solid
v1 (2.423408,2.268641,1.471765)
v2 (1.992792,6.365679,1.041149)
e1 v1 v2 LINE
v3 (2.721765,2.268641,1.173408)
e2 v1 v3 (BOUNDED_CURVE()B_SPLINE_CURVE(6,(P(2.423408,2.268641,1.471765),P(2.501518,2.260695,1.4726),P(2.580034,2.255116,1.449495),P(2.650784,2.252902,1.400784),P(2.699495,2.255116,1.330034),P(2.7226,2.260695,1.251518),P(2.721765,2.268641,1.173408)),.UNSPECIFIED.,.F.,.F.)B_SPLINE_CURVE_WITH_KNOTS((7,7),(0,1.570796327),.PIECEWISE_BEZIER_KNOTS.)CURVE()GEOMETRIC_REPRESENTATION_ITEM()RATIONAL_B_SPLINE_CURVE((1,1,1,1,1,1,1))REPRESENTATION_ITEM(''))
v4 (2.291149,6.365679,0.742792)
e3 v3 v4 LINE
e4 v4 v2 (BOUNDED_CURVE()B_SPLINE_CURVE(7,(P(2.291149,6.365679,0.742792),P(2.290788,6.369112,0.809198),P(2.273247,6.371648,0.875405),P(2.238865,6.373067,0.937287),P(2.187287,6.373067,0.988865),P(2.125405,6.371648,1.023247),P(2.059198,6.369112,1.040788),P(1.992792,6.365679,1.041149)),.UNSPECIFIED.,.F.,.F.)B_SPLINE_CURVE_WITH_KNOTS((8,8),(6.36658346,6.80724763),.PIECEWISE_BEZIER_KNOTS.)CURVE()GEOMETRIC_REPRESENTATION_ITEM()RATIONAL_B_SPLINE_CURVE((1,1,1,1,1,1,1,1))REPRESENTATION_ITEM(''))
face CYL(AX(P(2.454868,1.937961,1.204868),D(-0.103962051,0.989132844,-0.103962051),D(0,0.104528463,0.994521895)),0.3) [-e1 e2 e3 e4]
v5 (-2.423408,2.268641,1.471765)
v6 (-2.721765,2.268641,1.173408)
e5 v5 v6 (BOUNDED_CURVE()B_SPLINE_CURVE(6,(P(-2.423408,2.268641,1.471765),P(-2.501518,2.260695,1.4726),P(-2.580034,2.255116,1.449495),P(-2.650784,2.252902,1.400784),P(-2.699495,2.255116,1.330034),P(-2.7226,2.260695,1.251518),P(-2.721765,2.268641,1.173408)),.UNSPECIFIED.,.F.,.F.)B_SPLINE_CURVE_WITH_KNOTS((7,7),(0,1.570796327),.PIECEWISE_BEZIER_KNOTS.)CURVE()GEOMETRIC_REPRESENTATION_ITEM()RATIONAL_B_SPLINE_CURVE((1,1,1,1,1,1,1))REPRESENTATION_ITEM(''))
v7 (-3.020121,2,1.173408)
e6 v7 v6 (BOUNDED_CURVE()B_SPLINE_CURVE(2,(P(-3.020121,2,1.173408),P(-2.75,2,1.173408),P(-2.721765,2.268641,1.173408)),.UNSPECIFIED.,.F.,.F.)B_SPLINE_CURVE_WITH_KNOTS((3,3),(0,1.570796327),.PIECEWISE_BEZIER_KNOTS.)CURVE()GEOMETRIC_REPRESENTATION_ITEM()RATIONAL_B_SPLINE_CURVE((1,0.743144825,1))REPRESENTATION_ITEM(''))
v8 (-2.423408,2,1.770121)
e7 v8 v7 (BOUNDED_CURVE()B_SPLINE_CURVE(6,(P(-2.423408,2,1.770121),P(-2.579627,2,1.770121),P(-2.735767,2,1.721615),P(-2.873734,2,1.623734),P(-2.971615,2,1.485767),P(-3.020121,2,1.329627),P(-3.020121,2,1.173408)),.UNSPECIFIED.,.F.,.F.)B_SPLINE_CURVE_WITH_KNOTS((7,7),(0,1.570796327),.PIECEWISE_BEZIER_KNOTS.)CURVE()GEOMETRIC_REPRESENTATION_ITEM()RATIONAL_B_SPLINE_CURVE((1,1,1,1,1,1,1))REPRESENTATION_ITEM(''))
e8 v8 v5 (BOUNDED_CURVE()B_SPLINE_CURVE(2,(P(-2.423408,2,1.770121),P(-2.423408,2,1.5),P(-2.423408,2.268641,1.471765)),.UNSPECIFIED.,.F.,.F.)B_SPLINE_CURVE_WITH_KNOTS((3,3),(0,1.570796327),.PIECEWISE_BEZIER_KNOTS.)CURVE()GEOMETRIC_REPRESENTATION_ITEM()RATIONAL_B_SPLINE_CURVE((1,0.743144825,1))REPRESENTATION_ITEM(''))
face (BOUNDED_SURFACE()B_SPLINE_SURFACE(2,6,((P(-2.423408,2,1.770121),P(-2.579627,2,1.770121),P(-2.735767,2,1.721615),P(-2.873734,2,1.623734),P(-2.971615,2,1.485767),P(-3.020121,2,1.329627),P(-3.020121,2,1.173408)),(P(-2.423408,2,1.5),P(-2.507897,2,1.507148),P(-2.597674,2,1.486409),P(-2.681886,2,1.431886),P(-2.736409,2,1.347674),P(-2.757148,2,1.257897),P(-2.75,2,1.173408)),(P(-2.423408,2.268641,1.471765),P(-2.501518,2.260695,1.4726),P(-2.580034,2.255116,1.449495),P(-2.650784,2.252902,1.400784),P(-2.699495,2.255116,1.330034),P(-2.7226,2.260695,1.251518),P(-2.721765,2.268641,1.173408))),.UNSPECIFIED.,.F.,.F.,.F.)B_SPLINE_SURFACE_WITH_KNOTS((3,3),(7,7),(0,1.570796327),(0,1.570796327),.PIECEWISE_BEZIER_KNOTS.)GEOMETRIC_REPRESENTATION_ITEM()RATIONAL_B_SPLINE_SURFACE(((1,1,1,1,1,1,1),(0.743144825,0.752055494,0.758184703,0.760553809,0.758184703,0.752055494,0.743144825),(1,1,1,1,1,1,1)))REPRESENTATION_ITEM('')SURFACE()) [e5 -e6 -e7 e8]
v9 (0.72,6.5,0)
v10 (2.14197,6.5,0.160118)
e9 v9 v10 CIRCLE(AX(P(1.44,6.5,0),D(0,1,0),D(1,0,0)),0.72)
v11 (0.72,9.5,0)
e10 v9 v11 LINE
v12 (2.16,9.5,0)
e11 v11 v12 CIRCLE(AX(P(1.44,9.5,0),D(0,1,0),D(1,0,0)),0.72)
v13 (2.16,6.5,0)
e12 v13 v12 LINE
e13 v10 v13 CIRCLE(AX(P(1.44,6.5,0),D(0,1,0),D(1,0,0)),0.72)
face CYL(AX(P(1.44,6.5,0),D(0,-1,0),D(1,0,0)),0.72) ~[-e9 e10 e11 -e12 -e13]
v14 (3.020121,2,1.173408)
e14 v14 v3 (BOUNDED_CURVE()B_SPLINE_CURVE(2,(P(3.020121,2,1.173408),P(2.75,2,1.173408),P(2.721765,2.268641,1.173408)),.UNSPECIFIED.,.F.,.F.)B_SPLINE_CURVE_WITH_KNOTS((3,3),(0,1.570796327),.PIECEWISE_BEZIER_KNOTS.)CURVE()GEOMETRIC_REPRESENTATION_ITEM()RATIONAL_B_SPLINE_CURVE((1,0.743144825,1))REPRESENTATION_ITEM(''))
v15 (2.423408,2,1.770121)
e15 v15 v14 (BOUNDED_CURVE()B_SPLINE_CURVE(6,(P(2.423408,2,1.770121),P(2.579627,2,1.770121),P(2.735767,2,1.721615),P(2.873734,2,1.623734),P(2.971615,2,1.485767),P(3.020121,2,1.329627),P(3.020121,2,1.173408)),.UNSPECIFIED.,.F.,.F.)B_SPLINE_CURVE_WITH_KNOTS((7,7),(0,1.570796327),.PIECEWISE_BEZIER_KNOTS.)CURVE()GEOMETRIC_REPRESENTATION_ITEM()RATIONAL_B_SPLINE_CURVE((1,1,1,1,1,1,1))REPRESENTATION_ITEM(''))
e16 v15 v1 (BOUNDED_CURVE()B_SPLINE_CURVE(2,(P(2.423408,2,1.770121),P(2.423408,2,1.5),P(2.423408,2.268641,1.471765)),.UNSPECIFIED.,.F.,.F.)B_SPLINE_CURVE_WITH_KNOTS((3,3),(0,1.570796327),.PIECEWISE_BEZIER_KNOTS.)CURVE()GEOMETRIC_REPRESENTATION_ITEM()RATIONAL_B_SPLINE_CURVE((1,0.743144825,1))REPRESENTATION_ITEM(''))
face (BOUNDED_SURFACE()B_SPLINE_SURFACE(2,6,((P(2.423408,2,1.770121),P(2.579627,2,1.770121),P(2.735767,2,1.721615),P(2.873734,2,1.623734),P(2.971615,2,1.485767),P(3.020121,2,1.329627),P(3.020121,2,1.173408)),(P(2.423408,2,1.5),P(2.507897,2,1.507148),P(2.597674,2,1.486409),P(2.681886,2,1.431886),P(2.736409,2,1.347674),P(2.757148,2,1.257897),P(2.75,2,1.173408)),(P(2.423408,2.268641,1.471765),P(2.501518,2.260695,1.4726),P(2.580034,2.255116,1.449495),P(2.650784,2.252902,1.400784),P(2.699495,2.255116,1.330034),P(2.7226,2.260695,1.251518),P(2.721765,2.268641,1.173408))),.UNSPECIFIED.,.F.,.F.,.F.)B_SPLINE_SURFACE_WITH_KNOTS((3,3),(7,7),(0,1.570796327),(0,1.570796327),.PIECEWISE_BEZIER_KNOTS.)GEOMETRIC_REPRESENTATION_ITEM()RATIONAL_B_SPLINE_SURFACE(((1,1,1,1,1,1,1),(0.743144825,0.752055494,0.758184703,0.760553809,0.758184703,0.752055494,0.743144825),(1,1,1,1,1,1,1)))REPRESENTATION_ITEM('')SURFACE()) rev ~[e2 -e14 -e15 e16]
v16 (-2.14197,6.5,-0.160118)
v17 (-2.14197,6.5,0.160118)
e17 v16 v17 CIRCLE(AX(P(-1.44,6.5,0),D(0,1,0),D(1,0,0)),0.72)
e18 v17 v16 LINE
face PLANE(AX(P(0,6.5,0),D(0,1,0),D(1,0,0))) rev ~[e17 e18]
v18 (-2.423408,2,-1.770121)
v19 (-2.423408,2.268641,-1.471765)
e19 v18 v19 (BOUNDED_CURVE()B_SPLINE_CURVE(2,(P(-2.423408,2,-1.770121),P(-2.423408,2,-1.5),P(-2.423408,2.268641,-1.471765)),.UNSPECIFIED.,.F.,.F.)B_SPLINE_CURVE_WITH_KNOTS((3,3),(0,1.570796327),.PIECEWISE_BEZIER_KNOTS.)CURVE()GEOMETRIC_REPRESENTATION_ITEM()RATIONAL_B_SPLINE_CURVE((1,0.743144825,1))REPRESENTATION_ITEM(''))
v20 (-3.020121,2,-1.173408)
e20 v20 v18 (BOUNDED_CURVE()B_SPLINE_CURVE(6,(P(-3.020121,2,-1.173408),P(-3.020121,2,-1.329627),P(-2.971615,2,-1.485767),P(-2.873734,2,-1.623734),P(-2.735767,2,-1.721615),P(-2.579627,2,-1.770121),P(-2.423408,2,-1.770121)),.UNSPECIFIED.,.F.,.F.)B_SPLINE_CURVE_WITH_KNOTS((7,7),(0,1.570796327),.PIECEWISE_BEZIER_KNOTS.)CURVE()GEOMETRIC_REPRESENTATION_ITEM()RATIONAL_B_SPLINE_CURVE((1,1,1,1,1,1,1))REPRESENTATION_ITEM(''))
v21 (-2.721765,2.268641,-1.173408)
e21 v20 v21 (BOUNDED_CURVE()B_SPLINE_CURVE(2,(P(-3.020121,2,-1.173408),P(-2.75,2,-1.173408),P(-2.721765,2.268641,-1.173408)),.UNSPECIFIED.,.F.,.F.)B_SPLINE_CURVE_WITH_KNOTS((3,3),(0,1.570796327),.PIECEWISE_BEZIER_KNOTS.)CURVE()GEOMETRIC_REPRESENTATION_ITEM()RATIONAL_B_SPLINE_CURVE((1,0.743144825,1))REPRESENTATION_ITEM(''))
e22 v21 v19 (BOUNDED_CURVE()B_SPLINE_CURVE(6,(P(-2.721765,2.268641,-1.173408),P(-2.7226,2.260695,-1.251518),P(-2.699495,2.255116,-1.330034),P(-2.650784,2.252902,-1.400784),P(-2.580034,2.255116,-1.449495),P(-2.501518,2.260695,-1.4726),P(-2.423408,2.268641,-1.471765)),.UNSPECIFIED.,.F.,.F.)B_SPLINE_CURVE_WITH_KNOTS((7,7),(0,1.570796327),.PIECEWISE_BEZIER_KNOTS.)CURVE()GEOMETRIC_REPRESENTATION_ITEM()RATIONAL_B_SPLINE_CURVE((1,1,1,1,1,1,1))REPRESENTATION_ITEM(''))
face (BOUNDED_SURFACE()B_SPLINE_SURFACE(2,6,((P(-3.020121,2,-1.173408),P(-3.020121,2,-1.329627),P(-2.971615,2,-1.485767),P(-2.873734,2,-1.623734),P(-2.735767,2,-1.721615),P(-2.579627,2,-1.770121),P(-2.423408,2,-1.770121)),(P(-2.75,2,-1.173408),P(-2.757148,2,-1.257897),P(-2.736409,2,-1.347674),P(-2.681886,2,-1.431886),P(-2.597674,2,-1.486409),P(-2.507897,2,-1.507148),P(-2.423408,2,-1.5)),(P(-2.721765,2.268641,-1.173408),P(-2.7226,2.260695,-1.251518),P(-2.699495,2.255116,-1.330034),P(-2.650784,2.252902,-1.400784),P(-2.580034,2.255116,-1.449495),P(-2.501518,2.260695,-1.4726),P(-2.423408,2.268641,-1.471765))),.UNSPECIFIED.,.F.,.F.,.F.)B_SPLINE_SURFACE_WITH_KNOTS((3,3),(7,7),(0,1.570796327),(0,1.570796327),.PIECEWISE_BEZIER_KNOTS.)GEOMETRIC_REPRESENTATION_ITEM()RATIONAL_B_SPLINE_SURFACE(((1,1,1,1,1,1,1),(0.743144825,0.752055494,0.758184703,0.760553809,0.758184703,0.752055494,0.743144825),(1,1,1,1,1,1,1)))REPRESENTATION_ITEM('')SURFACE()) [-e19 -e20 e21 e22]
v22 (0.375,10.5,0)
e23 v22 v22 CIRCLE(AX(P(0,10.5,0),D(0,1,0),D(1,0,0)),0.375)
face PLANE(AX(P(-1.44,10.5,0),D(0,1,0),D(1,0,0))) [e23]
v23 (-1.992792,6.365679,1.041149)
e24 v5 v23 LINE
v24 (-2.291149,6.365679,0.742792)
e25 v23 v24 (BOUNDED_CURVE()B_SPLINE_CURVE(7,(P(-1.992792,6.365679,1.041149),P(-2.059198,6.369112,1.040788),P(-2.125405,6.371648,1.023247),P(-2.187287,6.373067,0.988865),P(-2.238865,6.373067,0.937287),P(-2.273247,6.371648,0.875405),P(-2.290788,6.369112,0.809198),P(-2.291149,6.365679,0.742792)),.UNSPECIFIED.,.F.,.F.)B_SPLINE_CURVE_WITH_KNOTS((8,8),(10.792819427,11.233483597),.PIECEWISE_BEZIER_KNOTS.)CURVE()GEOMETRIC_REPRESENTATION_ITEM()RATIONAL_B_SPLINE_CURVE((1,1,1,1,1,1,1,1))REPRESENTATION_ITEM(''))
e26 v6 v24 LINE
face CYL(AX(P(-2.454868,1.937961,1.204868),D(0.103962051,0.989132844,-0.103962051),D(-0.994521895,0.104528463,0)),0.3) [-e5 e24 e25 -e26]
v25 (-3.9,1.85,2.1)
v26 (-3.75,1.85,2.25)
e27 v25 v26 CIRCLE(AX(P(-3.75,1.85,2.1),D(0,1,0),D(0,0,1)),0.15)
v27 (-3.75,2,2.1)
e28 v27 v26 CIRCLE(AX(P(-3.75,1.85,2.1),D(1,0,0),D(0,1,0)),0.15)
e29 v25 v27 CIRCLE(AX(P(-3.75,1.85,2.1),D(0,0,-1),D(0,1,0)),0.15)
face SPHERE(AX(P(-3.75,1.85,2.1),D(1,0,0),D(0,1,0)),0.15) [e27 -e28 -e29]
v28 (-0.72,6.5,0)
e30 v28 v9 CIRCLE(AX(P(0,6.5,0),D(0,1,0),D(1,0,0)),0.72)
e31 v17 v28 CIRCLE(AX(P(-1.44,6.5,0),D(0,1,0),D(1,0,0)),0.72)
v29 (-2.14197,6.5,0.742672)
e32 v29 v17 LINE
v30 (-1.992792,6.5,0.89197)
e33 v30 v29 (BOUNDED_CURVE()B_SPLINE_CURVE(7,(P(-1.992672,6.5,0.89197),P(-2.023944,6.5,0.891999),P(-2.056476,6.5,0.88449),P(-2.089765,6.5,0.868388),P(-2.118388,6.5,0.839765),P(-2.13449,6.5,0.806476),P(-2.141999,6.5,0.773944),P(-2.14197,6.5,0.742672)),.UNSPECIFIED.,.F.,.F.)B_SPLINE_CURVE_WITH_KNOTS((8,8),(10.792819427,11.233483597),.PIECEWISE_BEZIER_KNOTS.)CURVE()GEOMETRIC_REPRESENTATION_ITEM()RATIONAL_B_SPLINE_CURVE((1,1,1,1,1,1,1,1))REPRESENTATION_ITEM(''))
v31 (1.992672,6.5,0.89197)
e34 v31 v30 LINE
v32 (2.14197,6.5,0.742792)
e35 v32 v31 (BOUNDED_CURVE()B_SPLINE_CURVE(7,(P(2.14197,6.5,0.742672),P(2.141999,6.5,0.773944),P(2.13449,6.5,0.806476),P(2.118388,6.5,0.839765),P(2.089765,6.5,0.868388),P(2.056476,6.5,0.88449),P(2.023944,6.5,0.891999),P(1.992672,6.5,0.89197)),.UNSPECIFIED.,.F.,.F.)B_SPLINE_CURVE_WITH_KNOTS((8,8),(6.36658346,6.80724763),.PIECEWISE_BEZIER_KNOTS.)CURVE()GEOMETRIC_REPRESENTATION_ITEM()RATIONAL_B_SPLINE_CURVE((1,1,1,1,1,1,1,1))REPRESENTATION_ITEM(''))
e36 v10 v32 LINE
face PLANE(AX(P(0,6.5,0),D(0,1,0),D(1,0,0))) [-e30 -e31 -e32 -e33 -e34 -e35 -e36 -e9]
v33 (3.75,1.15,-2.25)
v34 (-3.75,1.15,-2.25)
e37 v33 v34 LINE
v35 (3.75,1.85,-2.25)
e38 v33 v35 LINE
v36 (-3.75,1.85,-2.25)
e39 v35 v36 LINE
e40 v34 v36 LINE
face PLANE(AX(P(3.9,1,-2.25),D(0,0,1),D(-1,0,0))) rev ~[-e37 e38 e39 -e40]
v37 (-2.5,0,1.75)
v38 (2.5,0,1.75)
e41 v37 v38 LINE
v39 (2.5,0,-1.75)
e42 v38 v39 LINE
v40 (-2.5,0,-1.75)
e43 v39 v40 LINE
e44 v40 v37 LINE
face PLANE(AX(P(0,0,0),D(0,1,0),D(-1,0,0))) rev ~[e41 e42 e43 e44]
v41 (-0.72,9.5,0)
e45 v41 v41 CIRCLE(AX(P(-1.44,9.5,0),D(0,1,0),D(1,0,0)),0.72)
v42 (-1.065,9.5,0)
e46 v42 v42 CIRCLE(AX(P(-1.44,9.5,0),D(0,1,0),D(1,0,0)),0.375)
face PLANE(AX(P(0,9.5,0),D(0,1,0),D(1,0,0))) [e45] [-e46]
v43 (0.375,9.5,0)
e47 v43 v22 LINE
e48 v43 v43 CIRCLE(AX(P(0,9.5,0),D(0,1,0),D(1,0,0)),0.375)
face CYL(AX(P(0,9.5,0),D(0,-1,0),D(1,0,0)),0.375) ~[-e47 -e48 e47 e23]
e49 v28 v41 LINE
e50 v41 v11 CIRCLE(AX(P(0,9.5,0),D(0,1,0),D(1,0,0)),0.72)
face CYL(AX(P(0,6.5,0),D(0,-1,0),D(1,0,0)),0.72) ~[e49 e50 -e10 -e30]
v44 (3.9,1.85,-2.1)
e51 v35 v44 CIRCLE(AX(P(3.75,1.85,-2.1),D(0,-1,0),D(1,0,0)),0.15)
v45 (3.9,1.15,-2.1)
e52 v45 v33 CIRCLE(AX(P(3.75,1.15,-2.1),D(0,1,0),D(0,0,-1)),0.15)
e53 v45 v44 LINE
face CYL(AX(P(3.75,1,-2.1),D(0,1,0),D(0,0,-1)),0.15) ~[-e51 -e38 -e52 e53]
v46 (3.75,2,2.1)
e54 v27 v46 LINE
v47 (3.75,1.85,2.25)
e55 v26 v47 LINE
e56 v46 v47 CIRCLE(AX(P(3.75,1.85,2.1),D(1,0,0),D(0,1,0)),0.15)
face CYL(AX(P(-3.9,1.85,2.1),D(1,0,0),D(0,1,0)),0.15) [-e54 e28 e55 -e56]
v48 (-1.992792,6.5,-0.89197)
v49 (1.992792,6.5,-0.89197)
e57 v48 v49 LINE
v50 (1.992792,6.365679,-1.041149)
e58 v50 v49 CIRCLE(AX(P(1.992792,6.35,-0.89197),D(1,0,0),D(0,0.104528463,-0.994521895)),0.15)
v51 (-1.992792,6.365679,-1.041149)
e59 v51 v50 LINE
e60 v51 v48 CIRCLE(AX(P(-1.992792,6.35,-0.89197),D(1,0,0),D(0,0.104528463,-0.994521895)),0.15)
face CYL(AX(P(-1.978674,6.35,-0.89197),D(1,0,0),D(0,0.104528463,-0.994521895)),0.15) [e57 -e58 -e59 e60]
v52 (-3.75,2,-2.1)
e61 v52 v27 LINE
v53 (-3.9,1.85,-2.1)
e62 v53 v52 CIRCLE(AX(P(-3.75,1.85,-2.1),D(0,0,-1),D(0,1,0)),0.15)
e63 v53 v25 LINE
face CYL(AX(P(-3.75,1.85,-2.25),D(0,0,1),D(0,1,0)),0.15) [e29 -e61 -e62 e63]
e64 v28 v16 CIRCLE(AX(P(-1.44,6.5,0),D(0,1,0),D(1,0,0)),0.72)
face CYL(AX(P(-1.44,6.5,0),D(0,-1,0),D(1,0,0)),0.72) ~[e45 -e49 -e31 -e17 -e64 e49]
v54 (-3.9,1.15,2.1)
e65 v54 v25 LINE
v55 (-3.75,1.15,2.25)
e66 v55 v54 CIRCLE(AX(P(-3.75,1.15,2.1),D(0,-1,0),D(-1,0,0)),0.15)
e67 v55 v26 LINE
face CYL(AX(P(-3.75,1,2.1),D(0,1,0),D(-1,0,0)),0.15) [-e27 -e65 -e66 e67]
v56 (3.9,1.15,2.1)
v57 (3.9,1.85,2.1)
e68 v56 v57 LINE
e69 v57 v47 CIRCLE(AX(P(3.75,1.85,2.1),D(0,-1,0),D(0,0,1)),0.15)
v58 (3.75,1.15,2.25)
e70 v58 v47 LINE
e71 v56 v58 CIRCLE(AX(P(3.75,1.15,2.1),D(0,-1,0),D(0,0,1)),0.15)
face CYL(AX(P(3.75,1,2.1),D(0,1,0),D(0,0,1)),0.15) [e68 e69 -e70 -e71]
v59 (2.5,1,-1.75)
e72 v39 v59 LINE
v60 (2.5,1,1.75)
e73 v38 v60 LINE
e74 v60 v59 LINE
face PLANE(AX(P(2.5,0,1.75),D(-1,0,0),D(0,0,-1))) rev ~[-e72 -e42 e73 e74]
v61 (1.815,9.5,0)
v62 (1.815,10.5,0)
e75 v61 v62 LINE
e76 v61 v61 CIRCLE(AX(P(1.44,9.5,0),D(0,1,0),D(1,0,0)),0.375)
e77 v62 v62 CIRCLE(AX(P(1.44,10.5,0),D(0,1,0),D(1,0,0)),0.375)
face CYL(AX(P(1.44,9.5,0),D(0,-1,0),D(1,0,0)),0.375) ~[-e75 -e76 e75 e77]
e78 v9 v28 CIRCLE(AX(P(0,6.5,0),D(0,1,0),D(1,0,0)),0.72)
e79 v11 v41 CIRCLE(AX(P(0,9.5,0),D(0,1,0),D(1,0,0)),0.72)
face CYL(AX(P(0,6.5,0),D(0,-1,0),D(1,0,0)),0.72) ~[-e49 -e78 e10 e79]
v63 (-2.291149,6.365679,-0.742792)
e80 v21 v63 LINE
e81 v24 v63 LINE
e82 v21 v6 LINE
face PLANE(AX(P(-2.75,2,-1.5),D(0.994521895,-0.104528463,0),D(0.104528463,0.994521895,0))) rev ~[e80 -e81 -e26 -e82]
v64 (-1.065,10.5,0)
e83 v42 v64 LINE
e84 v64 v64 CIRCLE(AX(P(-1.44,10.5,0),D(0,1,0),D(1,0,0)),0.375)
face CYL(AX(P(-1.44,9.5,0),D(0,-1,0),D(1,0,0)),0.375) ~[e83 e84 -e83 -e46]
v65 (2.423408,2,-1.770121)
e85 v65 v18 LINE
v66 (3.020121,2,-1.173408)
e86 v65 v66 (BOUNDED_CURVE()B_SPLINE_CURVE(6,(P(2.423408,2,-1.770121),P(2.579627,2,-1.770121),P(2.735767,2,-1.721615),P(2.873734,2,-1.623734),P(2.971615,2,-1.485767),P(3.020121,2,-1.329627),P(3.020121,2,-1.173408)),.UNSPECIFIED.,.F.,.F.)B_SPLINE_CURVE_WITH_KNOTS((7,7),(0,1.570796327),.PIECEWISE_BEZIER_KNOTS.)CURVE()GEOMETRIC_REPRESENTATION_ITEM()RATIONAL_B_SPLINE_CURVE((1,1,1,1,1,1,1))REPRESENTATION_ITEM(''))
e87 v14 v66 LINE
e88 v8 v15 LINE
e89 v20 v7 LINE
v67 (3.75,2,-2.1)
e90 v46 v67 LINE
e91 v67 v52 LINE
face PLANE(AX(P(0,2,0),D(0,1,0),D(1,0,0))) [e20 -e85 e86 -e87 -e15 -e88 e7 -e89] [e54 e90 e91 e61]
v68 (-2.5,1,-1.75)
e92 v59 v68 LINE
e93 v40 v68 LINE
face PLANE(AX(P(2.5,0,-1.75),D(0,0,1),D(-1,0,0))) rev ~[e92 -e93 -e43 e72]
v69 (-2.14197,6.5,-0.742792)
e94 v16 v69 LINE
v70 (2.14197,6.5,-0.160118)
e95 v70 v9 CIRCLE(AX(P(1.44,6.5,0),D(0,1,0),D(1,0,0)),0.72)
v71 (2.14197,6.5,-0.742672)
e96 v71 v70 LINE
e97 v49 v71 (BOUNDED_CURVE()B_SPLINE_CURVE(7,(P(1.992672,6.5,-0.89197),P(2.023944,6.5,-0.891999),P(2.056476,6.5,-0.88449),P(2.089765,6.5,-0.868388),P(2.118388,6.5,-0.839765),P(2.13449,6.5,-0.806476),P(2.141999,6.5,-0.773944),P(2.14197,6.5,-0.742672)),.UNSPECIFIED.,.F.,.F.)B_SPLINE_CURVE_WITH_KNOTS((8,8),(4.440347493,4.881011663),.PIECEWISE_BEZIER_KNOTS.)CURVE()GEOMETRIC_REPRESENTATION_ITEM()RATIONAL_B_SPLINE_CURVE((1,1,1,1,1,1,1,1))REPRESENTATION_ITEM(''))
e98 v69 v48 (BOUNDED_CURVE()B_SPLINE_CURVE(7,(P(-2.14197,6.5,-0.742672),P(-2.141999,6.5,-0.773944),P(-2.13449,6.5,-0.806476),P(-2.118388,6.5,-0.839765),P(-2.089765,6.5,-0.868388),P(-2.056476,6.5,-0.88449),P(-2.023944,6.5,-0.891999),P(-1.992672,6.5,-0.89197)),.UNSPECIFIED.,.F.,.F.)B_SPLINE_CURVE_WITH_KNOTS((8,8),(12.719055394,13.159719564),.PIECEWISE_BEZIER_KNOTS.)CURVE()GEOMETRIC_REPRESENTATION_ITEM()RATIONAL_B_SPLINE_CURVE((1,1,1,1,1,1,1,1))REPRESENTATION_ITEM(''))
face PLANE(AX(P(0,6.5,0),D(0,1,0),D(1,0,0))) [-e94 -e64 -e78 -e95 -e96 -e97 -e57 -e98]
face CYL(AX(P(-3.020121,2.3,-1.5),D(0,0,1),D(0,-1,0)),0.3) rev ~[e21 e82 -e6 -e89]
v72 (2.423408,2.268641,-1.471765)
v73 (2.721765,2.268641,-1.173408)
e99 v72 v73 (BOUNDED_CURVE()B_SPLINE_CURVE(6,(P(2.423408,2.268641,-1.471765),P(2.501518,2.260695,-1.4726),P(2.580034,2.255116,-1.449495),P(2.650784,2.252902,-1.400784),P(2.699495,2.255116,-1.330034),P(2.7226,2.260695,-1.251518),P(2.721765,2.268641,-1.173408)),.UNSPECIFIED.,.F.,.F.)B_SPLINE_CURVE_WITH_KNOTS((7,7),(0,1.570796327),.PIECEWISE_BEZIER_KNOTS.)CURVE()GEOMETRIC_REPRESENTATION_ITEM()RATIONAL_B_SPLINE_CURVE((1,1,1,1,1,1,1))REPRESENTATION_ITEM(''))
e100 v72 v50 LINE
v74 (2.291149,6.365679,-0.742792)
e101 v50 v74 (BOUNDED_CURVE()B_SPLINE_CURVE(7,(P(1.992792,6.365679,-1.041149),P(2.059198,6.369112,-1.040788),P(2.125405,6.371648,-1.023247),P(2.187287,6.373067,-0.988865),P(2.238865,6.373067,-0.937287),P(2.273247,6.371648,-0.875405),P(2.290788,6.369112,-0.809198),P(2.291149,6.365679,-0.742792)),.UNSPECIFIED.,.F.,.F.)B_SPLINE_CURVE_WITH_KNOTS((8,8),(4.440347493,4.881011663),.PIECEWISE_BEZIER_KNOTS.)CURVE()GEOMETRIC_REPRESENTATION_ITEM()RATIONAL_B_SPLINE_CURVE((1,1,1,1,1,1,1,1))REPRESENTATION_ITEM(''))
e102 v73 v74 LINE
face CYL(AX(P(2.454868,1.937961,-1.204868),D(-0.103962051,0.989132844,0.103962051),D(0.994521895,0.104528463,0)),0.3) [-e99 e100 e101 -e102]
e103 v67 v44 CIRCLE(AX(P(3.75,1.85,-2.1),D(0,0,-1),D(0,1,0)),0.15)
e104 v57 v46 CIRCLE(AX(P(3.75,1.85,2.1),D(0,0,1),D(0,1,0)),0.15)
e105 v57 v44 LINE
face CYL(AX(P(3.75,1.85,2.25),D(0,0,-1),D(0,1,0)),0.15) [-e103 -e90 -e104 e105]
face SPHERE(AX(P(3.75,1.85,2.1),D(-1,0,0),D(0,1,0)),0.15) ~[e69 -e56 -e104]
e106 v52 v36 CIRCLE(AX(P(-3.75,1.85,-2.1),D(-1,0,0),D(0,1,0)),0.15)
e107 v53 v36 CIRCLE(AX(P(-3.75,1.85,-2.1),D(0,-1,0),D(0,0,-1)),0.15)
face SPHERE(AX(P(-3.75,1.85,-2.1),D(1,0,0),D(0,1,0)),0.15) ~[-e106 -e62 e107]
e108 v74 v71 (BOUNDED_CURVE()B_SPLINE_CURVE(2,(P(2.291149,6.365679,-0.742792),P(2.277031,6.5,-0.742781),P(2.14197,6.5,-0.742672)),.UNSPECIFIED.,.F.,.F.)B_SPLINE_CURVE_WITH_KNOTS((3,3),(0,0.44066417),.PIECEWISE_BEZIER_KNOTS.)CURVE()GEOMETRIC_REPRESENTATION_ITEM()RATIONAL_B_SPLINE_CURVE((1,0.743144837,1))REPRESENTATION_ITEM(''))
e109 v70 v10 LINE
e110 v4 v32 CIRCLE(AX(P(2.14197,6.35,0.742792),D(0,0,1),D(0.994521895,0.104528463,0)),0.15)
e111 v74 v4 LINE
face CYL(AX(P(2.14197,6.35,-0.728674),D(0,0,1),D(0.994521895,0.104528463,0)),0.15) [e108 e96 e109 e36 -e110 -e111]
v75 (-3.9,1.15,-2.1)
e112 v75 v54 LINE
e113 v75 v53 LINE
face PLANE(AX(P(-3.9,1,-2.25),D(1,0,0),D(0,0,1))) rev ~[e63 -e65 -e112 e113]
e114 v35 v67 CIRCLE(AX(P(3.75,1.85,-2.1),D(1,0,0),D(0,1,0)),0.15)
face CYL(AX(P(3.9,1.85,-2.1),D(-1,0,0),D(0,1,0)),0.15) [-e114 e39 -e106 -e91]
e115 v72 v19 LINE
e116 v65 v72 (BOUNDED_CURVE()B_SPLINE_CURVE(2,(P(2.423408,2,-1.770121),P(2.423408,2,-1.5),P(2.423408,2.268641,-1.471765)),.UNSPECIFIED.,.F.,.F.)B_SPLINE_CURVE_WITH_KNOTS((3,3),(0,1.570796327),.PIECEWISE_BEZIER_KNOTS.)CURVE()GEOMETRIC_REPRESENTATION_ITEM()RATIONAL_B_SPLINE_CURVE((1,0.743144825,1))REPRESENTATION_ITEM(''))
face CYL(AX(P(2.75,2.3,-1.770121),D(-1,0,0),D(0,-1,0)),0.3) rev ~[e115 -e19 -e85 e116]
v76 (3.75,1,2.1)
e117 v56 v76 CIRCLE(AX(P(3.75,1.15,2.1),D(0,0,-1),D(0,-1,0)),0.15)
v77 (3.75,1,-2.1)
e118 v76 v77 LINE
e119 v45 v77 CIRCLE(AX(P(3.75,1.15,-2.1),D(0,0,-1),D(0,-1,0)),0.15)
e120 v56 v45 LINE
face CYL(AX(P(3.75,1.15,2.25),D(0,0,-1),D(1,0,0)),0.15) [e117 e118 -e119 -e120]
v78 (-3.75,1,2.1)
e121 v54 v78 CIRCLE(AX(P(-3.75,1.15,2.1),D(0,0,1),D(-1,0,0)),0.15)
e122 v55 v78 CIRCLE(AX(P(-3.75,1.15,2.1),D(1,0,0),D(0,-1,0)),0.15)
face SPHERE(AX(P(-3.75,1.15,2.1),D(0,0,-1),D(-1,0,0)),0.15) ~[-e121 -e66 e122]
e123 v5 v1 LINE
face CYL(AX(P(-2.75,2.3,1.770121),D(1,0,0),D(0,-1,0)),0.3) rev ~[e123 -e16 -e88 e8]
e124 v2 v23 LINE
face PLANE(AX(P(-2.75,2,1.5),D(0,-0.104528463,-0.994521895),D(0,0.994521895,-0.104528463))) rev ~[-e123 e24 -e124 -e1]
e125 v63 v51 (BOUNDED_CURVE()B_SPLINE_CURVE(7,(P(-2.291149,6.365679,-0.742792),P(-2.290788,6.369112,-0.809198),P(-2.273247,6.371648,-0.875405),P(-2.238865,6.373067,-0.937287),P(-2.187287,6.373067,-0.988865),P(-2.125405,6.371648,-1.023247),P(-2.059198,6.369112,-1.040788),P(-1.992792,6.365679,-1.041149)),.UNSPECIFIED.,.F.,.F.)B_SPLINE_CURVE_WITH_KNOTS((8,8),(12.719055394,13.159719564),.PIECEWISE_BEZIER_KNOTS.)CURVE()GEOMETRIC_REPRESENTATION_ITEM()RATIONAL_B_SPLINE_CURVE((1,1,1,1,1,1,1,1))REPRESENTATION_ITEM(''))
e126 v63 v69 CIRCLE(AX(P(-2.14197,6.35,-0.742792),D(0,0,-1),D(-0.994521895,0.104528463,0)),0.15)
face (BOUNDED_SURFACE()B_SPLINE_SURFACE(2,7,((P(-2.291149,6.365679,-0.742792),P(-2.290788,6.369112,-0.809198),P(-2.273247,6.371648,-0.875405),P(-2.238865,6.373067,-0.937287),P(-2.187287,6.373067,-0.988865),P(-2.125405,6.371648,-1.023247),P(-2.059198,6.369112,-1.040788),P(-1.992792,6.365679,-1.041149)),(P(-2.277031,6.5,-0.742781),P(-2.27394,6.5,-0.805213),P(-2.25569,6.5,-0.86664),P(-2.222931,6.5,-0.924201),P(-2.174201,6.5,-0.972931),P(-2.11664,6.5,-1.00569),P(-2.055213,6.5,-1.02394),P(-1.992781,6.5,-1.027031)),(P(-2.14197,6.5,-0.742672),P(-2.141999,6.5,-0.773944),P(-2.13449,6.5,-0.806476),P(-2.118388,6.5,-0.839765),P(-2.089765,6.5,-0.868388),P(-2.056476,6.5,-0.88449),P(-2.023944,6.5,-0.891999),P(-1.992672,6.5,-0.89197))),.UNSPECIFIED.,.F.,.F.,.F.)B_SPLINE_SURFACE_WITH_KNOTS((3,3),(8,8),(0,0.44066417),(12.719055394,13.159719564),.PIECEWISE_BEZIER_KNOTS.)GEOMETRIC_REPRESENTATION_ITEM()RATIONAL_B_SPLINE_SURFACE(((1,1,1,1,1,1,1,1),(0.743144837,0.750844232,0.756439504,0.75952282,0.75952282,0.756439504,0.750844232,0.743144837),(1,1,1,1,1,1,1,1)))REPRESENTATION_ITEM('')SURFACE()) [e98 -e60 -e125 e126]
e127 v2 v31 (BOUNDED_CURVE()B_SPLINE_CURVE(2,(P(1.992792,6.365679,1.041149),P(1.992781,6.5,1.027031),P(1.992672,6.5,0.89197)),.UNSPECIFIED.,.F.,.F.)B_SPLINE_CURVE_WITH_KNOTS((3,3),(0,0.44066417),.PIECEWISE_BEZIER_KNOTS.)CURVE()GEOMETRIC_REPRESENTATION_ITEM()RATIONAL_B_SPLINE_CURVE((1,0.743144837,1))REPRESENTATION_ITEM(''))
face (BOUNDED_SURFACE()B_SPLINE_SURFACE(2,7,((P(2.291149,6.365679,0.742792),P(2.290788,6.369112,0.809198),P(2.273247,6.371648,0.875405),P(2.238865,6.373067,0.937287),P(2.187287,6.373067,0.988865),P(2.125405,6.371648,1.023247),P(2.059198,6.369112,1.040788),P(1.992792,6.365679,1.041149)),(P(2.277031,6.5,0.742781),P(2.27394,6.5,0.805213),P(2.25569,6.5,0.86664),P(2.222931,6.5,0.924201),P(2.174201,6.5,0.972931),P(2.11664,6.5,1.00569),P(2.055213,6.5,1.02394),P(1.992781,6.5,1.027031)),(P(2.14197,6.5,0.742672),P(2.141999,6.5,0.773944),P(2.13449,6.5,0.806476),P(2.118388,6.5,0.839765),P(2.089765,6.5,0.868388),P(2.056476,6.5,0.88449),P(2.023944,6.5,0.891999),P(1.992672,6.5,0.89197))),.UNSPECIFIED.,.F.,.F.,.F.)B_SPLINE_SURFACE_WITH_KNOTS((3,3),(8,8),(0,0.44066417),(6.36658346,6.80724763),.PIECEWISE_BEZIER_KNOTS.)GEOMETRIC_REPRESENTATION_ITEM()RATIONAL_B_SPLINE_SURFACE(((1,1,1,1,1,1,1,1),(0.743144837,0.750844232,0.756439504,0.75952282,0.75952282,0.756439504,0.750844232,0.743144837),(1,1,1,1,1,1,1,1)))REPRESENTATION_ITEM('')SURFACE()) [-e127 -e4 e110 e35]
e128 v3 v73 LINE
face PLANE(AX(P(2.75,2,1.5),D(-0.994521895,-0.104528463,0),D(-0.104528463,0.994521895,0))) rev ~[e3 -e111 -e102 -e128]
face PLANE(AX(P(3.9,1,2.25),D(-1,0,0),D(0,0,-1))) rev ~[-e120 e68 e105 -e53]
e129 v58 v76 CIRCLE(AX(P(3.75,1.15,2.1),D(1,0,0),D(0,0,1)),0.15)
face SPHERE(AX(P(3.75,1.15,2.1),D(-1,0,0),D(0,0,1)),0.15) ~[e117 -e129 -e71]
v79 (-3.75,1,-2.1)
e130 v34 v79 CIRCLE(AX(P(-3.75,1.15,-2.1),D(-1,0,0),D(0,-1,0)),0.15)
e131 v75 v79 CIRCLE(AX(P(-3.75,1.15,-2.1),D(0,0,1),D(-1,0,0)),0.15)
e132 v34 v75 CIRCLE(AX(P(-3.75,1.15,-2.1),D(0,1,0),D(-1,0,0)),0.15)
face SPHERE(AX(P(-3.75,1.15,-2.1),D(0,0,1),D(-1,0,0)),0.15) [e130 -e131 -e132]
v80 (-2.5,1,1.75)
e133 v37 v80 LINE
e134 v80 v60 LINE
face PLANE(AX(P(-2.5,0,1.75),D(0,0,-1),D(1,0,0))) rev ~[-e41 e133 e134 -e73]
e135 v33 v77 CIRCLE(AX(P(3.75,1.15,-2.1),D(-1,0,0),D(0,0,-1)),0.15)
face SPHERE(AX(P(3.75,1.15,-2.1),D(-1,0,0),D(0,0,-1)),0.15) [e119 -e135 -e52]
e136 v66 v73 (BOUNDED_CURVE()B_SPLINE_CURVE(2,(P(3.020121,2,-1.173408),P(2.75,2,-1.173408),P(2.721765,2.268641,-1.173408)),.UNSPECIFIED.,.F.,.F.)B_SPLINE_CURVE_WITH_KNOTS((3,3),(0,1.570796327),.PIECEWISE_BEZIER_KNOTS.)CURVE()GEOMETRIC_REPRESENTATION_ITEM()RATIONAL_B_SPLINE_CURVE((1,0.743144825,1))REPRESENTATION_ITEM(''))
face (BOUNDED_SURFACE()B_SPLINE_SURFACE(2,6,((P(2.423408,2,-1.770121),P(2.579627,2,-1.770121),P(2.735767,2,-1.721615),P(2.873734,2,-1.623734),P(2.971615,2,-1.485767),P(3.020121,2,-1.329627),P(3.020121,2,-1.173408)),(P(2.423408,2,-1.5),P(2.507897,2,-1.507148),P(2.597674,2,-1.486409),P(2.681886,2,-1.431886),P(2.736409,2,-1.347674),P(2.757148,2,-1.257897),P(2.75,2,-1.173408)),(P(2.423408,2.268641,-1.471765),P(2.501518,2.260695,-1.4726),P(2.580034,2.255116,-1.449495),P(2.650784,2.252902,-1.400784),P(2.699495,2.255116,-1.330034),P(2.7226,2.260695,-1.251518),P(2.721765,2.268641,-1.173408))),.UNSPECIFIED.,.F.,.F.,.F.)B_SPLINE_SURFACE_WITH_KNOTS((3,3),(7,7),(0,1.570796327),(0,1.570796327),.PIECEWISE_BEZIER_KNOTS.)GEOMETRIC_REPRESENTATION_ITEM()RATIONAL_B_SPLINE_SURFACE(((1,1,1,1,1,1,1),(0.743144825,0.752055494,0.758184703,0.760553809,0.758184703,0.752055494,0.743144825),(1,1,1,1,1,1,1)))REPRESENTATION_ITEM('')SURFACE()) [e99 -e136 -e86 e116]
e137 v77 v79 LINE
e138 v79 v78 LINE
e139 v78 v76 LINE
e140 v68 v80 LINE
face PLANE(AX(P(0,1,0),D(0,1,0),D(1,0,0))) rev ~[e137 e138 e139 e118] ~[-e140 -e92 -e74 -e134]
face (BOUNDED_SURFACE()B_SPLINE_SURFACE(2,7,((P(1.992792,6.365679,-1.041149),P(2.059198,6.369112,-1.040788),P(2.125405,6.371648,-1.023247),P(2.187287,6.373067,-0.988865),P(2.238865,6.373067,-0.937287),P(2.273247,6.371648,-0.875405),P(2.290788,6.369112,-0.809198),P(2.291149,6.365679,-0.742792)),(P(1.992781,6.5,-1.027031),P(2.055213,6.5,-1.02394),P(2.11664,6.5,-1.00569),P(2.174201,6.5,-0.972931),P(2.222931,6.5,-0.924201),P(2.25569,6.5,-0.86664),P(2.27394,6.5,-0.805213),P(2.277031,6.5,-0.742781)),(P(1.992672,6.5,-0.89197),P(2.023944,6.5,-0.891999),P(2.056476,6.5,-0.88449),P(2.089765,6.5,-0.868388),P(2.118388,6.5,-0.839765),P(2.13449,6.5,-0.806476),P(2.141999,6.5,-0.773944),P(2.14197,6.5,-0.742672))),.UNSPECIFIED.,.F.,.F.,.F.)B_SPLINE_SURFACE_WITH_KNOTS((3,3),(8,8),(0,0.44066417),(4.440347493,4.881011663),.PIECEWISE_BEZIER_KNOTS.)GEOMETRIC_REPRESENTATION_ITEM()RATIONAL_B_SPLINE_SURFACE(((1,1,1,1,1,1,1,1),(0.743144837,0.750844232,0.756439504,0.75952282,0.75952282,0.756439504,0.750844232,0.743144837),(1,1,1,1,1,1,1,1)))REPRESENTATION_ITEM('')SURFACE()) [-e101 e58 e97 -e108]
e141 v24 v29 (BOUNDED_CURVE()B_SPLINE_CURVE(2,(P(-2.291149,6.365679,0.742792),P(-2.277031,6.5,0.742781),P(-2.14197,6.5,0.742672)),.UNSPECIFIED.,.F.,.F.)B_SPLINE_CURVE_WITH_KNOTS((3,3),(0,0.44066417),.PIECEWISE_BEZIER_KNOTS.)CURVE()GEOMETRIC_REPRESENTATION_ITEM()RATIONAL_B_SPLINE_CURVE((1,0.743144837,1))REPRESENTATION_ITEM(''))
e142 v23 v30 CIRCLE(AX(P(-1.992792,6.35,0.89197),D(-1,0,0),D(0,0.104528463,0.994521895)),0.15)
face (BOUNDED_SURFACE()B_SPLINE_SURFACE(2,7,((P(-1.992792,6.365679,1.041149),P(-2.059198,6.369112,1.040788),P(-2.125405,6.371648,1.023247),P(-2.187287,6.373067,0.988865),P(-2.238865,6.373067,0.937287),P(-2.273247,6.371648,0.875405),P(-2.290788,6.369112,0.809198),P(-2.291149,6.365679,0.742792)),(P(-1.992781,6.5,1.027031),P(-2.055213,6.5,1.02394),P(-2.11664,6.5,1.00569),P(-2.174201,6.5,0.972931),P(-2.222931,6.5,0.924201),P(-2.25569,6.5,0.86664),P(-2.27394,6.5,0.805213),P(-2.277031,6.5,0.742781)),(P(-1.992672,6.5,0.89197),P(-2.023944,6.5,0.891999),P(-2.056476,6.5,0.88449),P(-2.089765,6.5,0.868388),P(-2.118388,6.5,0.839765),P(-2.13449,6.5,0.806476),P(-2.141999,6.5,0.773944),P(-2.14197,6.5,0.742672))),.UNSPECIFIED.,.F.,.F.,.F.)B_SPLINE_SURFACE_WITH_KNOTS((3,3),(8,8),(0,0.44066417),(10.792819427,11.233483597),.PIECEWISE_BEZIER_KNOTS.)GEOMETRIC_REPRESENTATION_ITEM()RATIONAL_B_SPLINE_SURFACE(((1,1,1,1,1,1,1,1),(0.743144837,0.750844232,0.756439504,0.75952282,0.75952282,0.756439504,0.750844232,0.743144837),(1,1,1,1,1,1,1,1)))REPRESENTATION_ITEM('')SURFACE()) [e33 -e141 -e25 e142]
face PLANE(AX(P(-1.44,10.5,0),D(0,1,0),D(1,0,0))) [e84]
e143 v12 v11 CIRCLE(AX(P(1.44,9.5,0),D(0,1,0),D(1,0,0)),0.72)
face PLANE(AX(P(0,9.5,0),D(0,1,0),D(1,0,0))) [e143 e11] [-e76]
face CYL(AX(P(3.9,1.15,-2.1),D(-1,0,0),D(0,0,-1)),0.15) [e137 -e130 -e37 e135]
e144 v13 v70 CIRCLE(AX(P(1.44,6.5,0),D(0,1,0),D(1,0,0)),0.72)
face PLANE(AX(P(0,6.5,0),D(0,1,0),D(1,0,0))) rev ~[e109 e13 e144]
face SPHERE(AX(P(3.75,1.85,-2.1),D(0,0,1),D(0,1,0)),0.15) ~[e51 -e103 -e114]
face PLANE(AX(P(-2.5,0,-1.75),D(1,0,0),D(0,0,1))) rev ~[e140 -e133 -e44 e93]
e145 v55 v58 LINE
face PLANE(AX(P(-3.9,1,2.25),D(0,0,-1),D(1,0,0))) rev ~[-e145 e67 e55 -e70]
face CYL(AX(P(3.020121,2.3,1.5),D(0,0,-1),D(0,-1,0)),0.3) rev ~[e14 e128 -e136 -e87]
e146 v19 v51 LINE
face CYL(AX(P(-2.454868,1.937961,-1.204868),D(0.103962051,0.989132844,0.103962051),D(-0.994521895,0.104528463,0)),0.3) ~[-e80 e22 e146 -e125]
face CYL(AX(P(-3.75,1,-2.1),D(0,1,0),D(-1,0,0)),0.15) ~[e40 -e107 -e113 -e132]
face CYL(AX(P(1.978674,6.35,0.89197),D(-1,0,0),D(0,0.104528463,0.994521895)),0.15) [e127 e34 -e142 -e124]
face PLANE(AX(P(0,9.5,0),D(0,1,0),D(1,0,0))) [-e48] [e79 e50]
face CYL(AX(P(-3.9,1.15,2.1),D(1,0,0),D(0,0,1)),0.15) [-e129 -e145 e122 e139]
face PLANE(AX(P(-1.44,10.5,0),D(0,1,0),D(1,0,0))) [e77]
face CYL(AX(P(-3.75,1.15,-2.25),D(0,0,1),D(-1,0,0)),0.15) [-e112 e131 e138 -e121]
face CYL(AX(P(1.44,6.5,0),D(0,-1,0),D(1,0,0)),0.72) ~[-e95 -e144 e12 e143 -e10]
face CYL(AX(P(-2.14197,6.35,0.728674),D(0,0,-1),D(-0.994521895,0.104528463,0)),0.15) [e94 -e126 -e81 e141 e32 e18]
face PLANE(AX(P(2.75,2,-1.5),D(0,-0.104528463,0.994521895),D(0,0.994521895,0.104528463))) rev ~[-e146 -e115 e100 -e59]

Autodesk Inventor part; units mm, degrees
ref_plane "YZ Plane" through (0, 0, 0) normal (1, 0, 0) x (0, 1, 0)
ref_plane "XZ Plane" through (0, 0, 0) normal (0, 1, 0) x (-1, 0, 0)
ref_plane "XY Plane" through (0, 0, 0) normal (0, 0, 1) x (1, 0, 0)
sketch "Sketch1" plane through (0, 0, 0) normal (0, 1, 0) x (-1, 0, 0)
  line L0 (-2.5, -1.75) -> (2.5, -1.75)
  line L1 (2.5, -1.75) -> (2.5, 1.75)
  line L2 (2.5, 1.75) -> (-2.5, 1.75)
  line L3 (-2.5, 1.75) -> (-2.5, -1.75)
  line L4 (-2.5, -1.75) -> (2.5, 1.75) construction
  line L5 (2.5, -1.75) -> (-2.5, 1.75) construction
  point P0 (0, 0)
  dimension "d0" = 5
  dimension "d1" = 3.5
extrude "Extrusion1" add sketch "Sketch1" along normal blind 1
sketch "Sketch2" plane through (0, 1, 0) normal (0, 1, 0) x (1, 0, 0)
  line L0 (-3.9, -2.25) -> (3.9, -2.25)
  line L1 (3.9, -2.25) -> (3.9, 2.25)
  line L2 (3.9, 2.25) -> (-3.9, 2.25)
  line L3 (-3.9, 2.25) -> (-3.9, -2.25)
  line L4 (-3.9, -2.25) -> (3.9, 2.25) construction
  line L5 (3.9, -2.25) -> (-3.9, 2.25) construction
  point P0 (0, 0)
  dimension "d4" = 7.8
  dimension "d5" = 4.5
extrude "Extrusion2" add sketch "Sketch2" along normal blind 1
sketch "Sketch3" plane through (0, 2, 0) normal (0, 1, 0) x (1, 0, 0)
  line L0 (-2.75, -1.5) -> (2.75, -1.5)
  line L1 (2.75, -1.5) -> (2.75, 1.5)
  line L2 (2.75, 1.5) -> (-2.75, 1.5)
  line L3 (-2.75, 1.5) -> (-2.75, -1.5)
  line L4 (-2.75, -1.5) -> (2.75, 1.5) construction
  line L5 (2.75, -1.5) -> (-2.75, 1.5) construction
  point P0 (0, 0)
  dimension "d8" = 5.5
  dimension "d9" = 3
extrude "Extrusion3" add sketch "Sketch3" along normal blind 4.5 draft -6
fillet "Fillet1" radius 0.3 8 edges at (2.5135, 4.25, 1.2635) (-2.5135, 4.25, 1.2635) (0, 2, 1.5) (2.75, 2, 0) (2.5135, 4.25, -1.2635) (0, 2, -1.5) (-2.5135, 4.25, -1.2635) (-2.75, 2, 0)
fillet "Fillet2" radius 0.15 20 edges at (0, 2, 2.25) (3.9, 2, 0) (0, 2, -2.25) (-3.9, 2, 0) (-3.9, 1, 0) (-3.9, 1.5, 2.25) (-3.9, 1.5, -2.25) (0, 1, -2.25) (3.9, 1.5, -2.25) (0, 1, 2.25) (3.9, 1.5, 2.25) (3.9, 1, 0) (-2.1898, 6.5, -0.9398) (-2.277, 6.5, 0) (-2.1898, 6.5, 0.9398) (0, 6.5, 1.027) (2.1898, 6.5, 0.9398) (2.277, 6.5, 0) (2.1898, 6.5, -0.9398) (0, 6.5, -1.027)
sketch "Sketch4" plane through (0, 6.5, 0) normal (0, 1, 0) x (1, 0, 0)
  circle A0 centre (0, 0) radius 0.72
  circle A1 centre (1.44, 0) radius 0.72
  circle A2 centre (-1.44, 0) radius 0.72
  dimension "d14" = 1.44
  dimension "d15" = 1.44
  dimension "d16" = 1.44
extrude "Extrusion4" add sketch "Sketch4" along normal blind 3
sketch "Sketch5" plane through (-1.44, 9.5, 0) normal (0, 1, 0) x (1, 0, 0)
  circle A0 centre (0, 0) radius 0.72 projected
  arc A1 (0.72, 0) -> (2.16, 0) centre (1.44, 0) ccw projected
  arc A2 (2.16, 0) -> (0.72, 0) centre (1.44, 0) ccw projected
  circle A3 centre (2.88, 0) radius 0.72 projected
  circle A4 centre (0, 0) radius 0.375
  circle A5 centre (1.44, 0) radius 0.375
  circle A6 centre (2.88, 0) radius 0.375
  dimension "d20" = 0.75
  dimension "d21" = 0.75
extrude "Extrusion5" add sketch "Sketch5" along normal blind 1 contours A4 | A5 | A6
properties part number "wire" material "PET Plastic"
